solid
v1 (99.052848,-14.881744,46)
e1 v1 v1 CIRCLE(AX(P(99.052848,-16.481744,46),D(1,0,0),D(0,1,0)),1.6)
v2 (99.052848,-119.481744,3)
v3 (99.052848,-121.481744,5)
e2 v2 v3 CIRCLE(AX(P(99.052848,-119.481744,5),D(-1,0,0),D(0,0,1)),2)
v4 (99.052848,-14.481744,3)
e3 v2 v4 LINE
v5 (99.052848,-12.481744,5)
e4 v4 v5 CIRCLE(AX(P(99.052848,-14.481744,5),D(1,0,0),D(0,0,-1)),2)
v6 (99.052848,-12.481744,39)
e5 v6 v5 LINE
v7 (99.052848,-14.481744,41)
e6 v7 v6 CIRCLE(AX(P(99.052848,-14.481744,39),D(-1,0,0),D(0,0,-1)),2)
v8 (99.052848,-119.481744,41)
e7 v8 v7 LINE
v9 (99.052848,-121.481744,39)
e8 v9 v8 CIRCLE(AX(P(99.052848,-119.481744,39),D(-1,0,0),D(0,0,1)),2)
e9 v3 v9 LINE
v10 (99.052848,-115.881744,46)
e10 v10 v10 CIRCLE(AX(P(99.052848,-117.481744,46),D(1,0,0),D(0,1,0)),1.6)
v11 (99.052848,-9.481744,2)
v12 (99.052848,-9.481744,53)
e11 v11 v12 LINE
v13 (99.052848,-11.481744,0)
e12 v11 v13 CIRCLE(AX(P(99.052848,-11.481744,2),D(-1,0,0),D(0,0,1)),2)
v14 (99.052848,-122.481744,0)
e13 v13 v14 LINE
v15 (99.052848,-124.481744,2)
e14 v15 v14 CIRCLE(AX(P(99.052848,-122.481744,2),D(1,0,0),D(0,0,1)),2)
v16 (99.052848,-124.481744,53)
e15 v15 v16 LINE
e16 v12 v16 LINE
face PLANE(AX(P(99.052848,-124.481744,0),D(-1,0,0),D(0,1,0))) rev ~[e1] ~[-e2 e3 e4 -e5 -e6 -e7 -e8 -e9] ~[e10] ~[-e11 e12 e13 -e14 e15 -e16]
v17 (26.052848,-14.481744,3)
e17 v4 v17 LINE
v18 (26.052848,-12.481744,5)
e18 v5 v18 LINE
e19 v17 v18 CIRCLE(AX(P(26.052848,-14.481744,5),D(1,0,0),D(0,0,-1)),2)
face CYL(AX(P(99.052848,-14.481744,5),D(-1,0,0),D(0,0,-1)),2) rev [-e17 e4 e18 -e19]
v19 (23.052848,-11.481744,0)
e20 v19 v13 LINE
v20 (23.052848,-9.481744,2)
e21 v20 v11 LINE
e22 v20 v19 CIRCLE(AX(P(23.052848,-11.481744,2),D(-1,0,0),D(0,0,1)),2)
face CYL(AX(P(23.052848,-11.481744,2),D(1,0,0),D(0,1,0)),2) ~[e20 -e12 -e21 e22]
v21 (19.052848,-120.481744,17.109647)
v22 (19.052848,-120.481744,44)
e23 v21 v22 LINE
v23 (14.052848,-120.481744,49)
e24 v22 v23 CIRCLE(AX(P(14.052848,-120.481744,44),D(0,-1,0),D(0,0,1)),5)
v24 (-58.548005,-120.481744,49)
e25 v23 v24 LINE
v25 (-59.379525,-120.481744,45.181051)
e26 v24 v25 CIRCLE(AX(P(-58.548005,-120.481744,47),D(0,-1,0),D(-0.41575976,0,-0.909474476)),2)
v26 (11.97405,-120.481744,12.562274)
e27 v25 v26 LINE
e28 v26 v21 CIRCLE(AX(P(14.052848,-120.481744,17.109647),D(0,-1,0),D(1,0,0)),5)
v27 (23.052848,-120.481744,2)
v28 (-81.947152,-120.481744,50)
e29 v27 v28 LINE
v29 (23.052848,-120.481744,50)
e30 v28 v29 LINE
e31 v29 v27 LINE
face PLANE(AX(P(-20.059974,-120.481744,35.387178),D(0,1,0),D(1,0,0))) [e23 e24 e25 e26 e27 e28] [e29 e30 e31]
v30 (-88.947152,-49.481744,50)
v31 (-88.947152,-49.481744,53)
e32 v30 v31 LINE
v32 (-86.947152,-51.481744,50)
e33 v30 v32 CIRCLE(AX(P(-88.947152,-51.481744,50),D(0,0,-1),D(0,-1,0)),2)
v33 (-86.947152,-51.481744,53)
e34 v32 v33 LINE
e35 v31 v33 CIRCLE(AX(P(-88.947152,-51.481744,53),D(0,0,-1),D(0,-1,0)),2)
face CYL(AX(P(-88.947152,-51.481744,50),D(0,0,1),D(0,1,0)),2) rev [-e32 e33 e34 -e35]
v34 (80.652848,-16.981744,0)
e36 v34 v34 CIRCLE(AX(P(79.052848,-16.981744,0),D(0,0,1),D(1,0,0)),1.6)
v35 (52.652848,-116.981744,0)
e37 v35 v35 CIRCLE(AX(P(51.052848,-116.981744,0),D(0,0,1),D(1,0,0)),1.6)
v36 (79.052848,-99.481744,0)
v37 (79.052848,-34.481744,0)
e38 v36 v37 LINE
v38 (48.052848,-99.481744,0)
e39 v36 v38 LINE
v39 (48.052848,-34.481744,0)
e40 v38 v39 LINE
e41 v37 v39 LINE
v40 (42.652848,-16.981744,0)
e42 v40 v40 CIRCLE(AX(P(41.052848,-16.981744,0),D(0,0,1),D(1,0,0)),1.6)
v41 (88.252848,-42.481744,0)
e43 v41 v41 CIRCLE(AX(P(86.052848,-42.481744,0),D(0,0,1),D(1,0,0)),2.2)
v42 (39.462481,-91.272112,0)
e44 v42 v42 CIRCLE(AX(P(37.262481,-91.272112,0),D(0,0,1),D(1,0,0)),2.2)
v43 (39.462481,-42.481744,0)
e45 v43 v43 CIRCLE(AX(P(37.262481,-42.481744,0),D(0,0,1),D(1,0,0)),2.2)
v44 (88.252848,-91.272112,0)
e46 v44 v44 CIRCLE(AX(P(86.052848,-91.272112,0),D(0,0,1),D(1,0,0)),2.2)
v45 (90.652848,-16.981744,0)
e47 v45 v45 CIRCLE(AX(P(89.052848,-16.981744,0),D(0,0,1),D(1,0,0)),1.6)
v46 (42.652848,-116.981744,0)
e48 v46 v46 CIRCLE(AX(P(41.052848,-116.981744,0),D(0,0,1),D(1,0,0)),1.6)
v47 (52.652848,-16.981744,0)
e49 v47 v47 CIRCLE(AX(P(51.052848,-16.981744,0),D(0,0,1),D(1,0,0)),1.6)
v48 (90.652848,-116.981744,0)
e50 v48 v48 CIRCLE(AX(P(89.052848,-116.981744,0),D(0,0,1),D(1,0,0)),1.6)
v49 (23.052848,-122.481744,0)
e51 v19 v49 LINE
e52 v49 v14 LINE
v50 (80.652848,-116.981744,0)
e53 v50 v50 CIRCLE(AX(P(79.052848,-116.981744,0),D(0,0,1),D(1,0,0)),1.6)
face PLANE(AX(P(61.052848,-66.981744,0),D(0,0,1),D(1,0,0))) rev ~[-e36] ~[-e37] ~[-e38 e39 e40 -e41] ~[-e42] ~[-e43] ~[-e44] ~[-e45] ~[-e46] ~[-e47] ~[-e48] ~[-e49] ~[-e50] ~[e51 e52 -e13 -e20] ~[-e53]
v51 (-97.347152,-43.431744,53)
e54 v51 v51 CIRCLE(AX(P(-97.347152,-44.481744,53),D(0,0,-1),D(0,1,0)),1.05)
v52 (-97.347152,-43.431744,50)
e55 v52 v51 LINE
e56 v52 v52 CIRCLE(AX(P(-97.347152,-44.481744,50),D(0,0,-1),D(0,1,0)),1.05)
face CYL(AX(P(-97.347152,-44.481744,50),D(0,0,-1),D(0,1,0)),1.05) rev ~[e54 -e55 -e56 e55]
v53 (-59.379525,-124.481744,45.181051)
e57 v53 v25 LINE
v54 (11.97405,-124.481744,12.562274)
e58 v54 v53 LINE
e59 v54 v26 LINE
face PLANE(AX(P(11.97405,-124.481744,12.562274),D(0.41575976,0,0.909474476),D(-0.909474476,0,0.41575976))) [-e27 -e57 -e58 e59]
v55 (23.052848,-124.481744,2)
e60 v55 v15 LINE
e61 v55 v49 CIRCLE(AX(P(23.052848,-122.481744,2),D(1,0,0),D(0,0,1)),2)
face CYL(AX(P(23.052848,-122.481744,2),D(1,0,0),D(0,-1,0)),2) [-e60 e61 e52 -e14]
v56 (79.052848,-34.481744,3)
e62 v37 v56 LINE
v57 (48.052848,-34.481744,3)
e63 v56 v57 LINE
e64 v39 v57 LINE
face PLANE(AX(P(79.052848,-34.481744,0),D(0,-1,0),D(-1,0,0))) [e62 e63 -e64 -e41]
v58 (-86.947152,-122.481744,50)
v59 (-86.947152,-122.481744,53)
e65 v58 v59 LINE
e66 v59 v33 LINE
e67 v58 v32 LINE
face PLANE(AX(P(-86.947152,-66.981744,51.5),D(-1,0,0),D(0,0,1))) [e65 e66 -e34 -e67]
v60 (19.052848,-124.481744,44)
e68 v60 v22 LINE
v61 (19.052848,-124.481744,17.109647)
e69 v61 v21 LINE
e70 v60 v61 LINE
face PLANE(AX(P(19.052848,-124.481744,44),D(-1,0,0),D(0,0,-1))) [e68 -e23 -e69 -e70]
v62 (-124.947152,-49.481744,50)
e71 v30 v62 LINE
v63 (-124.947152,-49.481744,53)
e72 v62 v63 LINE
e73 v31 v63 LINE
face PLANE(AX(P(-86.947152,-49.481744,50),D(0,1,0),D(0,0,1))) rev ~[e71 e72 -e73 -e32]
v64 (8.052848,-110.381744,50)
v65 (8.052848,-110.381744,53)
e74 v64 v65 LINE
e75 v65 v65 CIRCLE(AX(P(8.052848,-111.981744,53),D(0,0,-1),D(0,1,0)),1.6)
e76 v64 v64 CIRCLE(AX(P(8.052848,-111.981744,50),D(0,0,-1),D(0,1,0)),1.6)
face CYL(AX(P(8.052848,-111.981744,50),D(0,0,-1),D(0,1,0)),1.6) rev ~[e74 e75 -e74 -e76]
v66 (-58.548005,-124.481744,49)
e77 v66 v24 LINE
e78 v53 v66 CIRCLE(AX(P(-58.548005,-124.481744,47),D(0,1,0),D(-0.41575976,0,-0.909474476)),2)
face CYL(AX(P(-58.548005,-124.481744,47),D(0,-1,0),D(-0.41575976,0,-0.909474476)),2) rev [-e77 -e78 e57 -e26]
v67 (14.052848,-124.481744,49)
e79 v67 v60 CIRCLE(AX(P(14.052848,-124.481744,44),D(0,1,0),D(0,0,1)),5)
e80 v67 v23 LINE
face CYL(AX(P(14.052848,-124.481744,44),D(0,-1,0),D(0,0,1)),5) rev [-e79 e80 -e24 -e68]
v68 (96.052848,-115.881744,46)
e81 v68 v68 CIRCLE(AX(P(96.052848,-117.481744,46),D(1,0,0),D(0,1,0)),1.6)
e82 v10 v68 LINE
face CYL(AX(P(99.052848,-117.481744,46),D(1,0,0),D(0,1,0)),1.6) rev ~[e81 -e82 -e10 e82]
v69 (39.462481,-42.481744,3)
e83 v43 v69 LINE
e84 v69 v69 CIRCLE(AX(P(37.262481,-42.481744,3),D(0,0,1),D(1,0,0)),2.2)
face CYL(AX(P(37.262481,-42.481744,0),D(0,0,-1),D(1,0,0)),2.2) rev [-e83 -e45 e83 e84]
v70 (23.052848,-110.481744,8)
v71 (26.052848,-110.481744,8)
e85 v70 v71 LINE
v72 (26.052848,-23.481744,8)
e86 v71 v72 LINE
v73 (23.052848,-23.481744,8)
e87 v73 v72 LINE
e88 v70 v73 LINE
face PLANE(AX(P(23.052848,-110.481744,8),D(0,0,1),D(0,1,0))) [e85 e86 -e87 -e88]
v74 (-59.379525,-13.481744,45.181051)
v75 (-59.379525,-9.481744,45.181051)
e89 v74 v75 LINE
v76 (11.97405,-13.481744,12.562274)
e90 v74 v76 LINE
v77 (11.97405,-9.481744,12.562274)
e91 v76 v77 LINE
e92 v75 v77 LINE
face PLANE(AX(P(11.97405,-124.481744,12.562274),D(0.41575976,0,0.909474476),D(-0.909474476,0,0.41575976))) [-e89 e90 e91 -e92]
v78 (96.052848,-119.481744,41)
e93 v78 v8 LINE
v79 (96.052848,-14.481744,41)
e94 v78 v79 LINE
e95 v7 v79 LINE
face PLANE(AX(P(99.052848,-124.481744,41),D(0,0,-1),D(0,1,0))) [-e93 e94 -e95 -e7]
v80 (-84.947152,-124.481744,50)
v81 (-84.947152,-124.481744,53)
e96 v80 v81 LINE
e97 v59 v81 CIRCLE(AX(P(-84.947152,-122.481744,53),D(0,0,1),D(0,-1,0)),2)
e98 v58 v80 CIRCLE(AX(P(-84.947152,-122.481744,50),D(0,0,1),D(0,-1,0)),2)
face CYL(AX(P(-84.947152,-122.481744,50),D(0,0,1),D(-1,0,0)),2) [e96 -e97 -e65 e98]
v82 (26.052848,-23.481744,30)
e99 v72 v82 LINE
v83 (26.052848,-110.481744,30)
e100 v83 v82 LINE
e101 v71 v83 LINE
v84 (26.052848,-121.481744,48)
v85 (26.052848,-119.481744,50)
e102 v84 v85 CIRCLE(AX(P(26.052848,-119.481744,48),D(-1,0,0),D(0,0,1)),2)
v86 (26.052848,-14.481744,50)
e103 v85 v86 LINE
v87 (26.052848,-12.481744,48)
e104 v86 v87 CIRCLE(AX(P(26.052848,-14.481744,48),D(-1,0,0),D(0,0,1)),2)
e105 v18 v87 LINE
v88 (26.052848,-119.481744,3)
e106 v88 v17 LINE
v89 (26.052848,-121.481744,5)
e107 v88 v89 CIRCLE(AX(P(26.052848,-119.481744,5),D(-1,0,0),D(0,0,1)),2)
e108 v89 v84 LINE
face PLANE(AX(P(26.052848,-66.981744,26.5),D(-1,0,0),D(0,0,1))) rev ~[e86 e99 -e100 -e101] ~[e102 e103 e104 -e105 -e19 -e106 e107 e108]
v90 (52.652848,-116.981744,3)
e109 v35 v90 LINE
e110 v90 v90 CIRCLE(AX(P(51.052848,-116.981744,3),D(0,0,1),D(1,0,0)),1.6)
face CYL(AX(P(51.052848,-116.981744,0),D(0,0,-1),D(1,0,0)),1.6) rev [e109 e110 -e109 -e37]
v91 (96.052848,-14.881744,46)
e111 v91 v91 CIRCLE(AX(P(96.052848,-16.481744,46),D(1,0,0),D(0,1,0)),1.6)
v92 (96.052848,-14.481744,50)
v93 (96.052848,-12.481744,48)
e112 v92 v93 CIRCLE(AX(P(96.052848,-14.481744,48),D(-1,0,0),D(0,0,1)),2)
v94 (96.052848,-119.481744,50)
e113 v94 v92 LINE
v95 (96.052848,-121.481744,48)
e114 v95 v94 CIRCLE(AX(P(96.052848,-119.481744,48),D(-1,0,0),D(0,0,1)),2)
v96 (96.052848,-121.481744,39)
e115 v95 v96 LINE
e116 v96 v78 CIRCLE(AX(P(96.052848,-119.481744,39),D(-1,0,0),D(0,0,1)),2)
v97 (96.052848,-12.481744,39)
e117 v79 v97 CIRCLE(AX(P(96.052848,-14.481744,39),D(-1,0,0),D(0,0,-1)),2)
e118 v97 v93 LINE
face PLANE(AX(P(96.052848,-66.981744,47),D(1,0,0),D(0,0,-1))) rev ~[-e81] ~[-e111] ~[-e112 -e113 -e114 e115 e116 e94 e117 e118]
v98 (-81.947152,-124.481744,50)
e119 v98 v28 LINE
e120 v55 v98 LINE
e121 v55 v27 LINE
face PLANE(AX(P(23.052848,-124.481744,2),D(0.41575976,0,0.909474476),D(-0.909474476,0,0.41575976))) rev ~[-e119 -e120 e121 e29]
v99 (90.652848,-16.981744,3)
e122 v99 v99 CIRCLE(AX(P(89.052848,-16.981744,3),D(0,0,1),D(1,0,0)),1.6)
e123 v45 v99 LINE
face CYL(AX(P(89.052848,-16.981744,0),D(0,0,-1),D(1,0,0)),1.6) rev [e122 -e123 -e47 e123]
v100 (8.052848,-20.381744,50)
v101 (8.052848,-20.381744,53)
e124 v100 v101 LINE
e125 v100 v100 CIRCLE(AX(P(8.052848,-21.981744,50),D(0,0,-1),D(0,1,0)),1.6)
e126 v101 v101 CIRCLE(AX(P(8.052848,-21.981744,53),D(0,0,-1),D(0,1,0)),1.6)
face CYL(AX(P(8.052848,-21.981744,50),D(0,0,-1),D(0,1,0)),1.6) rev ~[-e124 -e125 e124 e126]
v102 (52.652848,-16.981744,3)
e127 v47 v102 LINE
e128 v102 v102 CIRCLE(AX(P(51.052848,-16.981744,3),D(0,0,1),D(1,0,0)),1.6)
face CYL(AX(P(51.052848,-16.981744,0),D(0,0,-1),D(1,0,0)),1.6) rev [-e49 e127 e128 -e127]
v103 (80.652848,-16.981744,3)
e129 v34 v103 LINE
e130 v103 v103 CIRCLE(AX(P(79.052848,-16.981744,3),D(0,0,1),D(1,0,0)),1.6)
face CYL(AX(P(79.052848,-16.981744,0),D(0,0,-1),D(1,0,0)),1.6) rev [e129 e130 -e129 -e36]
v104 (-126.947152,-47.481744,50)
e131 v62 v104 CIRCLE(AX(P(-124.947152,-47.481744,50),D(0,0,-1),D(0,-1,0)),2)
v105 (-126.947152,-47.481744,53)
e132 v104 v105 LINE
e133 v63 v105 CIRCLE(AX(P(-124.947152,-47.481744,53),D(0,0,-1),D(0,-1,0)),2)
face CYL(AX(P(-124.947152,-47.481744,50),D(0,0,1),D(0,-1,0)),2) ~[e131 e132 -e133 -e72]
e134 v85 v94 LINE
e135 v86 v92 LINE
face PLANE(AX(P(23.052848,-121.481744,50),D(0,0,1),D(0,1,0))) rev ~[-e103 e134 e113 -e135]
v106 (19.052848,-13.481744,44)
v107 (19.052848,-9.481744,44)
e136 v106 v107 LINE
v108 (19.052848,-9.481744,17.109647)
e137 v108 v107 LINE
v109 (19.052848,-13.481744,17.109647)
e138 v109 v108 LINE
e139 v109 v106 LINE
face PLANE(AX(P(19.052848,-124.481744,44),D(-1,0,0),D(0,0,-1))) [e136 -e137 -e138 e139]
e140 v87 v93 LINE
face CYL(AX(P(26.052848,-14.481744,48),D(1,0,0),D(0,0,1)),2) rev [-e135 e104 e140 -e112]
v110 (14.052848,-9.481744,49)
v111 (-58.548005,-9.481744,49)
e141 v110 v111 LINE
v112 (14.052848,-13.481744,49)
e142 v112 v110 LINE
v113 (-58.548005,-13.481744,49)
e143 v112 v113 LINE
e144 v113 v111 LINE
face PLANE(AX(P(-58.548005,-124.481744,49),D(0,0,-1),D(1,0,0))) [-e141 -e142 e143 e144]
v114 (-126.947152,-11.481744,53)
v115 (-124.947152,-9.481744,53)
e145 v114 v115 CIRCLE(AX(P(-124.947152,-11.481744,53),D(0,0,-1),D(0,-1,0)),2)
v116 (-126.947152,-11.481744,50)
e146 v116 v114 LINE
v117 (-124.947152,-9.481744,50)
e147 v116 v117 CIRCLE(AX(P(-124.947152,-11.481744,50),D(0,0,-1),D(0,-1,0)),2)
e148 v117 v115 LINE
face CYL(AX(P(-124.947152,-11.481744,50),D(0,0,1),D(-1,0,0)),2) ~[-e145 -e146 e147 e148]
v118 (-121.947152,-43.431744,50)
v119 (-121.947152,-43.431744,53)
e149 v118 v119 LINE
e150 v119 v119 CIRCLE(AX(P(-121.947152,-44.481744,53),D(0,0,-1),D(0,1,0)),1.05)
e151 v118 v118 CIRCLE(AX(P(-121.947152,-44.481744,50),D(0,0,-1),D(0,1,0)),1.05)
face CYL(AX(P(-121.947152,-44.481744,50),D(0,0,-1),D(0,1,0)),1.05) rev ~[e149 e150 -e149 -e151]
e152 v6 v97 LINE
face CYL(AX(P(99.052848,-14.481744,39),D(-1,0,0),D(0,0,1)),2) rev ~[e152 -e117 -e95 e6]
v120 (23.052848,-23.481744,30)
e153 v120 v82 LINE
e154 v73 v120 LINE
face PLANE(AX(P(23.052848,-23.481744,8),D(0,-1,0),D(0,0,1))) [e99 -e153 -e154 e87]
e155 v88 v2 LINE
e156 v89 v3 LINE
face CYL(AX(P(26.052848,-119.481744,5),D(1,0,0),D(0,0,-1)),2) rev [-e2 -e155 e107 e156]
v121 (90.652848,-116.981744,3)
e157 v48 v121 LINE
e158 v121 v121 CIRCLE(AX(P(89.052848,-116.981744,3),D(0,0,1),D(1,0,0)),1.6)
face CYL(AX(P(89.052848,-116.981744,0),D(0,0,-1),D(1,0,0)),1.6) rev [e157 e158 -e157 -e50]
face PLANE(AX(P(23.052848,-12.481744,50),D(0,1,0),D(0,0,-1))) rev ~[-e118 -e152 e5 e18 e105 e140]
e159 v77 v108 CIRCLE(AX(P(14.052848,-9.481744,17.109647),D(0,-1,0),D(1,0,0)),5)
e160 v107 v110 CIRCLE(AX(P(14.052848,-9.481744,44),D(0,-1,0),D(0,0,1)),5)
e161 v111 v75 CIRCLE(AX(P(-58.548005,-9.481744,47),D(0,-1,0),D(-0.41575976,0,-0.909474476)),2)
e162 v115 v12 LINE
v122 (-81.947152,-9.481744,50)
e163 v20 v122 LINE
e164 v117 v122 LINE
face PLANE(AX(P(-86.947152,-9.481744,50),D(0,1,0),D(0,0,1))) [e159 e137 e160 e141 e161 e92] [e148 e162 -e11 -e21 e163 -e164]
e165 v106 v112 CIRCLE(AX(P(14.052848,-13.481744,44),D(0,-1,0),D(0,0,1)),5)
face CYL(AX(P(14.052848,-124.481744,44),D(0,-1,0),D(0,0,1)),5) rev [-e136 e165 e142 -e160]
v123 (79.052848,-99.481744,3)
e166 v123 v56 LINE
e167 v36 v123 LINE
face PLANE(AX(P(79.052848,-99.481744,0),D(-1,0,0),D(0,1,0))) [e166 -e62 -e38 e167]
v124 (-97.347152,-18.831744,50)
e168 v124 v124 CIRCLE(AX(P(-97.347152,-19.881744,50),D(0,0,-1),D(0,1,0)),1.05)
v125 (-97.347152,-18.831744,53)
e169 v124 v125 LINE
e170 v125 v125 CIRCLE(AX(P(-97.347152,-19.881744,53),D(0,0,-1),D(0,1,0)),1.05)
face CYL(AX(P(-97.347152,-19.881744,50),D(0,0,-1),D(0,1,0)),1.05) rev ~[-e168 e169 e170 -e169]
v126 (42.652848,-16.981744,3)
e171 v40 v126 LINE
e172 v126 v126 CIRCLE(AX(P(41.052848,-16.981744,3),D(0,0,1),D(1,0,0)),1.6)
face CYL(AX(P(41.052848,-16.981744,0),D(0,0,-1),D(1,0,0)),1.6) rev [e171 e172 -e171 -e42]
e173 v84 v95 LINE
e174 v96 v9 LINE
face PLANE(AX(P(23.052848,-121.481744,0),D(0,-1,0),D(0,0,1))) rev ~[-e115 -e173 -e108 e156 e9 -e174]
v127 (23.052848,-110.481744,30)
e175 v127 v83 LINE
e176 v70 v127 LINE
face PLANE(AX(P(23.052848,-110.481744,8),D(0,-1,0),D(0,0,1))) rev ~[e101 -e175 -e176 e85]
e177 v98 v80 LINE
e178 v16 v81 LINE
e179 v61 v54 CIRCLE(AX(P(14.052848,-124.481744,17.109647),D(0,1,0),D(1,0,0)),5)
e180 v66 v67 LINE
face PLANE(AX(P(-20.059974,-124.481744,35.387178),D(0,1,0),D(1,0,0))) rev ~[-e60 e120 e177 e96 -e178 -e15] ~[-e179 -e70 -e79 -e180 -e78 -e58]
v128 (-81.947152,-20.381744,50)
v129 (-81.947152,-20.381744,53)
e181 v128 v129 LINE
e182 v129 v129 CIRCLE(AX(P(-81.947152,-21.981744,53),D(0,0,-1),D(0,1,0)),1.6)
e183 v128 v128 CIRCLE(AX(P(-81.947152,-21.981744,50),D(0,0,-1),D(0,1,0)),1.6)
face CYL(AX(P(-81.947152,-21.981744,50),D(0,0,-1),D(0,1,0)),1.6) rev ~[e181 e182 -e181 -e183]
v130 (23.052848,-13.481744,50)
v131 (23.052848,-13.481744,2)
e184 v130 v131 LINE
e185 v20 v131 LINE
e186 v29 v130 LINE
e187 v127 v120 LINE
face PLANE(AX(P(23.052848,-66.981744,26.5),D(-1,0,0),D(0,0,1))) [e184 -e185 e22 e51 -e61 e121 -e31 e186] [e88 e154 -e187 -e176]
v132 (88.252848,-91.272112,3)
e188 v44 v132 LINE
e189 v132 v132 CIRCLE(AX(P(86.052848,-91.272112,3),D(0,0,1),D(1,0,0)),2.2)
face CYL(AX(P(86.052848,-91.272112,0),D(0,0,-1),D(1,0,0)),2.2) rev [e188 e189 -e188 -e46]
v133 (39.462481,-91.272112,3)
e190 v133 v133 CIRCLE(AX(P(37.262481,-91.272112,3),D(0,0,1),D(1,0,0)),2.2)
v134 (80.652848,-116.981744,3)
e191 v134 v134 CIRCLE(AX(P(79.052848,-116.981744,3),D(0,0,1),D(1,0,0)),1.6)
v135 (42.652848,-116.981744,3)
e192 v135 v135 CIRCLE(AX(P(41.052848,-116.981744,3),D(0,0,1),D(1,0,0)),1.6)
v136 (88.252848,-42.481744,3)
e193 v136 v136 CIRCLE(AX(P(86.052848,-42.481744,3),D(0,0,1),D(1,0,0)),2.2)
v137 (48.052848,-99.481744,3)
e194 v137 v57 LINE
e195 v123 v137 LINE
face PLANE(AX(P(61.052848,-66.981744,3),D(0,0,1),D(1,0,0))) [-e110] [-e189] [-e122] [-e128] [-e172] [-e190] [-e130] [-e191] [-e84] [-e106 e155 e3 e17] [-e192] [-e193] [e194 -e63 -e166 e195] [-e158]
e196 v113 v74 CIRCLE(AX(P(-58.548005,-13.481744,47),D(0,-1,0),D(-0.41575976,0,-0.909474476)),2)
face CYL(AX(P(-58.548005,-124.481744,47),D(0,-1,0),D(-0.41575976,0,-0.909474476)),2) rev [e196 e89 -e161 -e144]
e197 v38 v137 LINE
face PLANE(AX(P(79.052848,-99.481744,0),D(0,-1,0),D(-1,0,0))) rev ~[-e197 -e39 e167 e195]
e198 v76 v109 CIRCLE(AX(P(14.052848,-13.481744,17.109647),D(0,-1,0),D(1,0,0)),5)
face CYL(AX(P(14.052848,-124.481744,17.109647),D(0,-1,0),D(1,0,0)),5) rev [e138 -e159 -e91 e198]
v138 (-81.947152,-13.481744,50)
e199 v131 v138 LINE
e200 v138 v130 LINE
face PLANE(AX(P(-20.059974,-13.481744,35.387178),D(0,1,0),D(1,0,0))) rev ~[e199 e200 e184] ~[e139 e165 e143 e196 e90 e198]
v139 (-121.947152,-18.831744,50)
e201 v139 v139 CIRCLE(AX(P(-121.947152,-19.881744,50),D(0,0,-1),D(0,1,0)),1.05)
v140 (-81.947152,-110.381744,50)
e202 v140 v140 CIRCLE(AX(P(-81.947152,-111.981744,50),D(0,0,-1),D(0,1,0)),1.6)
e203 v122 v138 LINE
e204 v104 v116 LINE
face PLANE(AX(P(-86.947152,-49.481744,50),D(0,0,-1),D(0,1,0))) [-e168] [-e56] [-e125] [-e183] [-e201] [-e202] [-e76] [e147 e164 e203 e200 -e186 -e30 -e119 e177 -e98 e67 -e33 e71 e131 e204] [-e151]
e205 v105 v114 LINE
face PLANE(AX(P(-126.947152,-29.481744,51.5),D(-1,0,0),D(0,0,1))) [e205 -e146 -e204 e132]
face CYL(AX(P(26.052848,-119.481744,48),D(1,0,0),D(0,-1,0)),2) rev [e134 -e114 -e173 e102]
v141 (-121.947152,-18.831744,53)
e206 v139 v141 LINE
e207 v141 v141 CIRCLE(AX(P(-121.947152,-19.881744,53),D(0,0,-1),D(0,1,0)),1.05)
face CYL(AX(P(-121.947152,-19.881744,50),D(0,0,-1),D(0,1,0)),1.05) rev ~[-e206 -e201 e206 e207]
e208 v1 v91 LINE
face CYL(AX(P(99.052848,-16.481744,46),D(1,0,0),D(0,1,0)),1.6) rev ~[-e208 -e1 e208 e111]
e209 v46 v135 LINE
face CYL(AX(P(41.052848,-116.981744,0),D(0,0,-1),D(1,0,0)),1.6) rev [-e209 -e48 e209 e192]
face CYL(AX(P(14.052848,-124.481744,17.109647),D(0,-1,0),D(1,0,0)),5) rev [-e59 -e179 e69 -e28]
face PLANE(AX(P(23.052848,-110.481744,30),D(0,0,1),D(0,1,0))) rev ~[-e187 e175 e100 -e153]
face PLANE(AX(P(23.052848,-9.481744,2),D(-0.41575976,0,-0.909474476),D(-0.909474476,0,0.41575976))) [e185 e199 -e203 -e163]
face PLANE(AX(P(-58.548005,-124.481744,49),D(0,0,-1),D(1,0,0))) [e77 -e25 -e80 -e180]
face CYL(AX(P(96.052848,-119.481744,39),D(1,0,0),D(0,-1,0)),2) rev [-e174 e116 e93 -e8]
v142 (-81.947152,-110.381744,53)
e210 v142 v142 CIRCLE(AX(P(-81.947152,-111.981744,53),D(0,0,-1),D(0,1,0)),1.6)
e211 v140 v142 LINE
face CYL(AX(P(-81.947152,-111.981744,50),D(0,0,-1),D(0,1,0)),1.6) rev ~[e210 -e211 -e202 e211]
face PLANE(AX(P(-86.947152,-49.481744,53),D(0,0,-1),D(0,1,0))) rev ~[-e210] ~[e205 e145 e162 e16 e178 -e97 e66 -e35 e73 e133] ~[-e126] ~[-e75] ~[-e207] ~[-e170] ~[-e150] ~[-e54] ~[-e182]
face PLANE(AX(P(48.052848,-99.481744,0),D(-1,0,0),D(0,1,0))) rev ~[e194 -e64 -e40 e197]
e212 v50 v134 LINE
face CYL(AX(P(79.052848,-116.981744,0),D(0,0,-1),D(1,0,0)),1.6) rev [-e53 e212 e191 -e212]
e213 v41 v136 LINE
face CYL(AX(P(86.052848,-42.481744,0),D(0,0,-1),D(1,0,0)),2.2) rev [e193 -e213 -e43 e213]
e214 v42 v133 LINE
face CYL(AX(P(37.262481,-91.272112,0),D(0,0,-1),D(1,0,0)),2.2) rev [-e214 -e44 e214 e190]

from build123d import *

# Parameters (mm, degrees)
SKETCH_2_W          = 76
SKETCH_2_H          = 115
SKETCH_2_R          = 2.2
SKETCH_2_R_2        = 1.6
EXTRUDE_1_DEPTH     = 3
EXTRUDE_2_DEPTH     = 76
SKETCH_4_W          = 47
SKETCH_4_H          = 108.999999999
EXTRUDE_3_DEPTH     = 3
SKETCH_5_W          = 12
SKETCH_5_H          = 115
SKETCH_5_R          = 1.6
EXTRUDE_4_DEPTH     = 3
FILLET_1_R          = 2
SKETCH_6_W          = 3
SKETCH_6_H          = 115
EXTRUDE_5_DEPTH     = 110
SKETCH_7_R          = 1.6
CUT_EXTRUDE_1_DEPTH = 110
SKETCH_8_W          = 31
SKETCH_8_H          = 65
CUT_EXTRUDE_2_DEPTH = 3
EXTRUDE_6_DEPTH     = 4
EXTRUDE_7_DEPTH     = 4
CUT_EXTRUDE_3_DEPTH = 124
SKETCH_16_W         = 3
SKETCH_16_H         = 40
EXTRUDE_10_DEPTH    = 40
SKETCH_17_R         = 1.05
CUT_EXTRUDE_5_DEPTH = 40
FILLET_5_R          = 2
SKETCH_18_W         = 22
SKETCH_18_H         = 87
CUT_EXTRUDE_6_DEPTH = 4


with BuildPart() as part:
    # 草图2 → 凸台-拉伸1 (new body)
    with BuildSketch(Plane.XY):
        with Locations((61.052848474, -66.98174403)):
            Rectangle(SKETCH_2_W, SKETCH_2_H)
        with Locations((86.052848474, -91.272111932)):
            Circle(SKETCH_2_R, mode=Mode.SUBTRACT)
        with Locations((86.052848474, -42.48174403)):
            Circle(SKETCH_2_R, mode=Mode.SUBTRACT)
        with Locations((37.262480572, -42.48174403)):
            Circle(SKETCH_2_R, mode=Mode.SUBTRACT)
        with Locations((37.262480572, -91.272111932)):
            Circle(SKETCH_2_R, mode=Mode.SUBTRACT)
        with Locations((89.052848474, -16.98174403)):
            Circle(SKETCH_2_R_2, mode=Mode.SUBTRACT)
        with Locations((79.052848474, -16.98174403)):
            Circle(SKETCH_2_R_2, mode=Mode.SUBTRACT)
        with Locations((41.052848474, -16.98174403)):
            Circle(SKETCH_2_R_2, mode=Mode.SUBTRACT)
        with Locations((51.052848474, -16.98174403)):
            Circle(SKETCH_2_R_2, mode=Mode.SUBTRACT)
        with Locations((41.052848474, -116.98174403)):
            Circle(SKETCH_2_R_2, mode=Mode.SUBTRACT)
        with Locations((51.052848474, -116.98174403)):
            Circle(SKETCH_2_R_2, mode=Mode.SUBTRACT)
        with Locations((79.052848474, -116.98174403)):
            Circle(SKETCH_2_R_2, mode=Mode.SUBTRACT)
        with Locations((89.052848474, -116.98174403)):
            Circle(SKETCH_2_R_2, mode=Mode.SUBTRACT)
    extrude(amount=EXTRUDE_1_DEPTH)

    # 草图3 → 凸台-拉伸2 (add)
    with BuildSketch(Plane.ZY.offset(-23.052848474)):
        Polygon((0, -9.48174403), (53, -9.48174403), (53, -124.48174403), (0, -124.48174403), (0, -121.48174403), (50, -121.48174403), (50, -12.481744031), (0, -12.481744031), align=None)
    extrude(amount=-EXTRUDE_2_DEPTH)

    # 草图4 → 凸台-拉伸3 (add)
    with BuildSketch(Plane.ZY.offset(-23.052848474)):
        with Locations((26.5, -66.98174403)):
            Rectangle(SKETCH_4_W, SKETCH_4_H)
    extrude(amount=-EXTRUDE_3_DEPTH)

    # 草图5 → 凸台-拉伸4 (add)
    with BuildSketch(Plane(origin=(99.052848474, 0, 0), x_dir=(0, 0, -1), z_dir=(1, 0, 0))):
        with Locations((-47, -66.98174403)):
            Rectangle(SKETCH_5_W, SKETCH_5_H)
        with Locations(Location((-46, -117.48174403, 0), (0, 0, 90))):
            Circle(SKETCH_5_R, mode=Mode.SUBTRACT)
        with Locations(Location((-46, -16.48174403, 0), (0, 0, 90))):
            Circle(SKETCH_5_R, mode=Mode.SUBTRACT)
    extrude(amount=-EXTRUDE_4_DEPTH)

    # 圆角1
    fillet_1_edges = [part.edges().sort_by_distance(p)[0] for p in [
        (62.552848474, -12.481744031, 3),
        (61.052848474, -12.481744031, 50),
        (61.052848474, -121.48174403, 50),
        (97.552848474, -121.48174403, 41),
        (97.552848474, -12.481744031, 41),
        (61.052848474, -9.48174403, 0),
        (61.052848474, -124.48174403, 0),
        (62.552848474, -121.48174403, 3),
    ]]
    fillet(fillet_1_edges, radius=FILLET_1_R)

    # 草图6 → 凸台-拉伸5 (add)
    with BuildSketch(Plane.ZY.offset(-23.052848474)):
        with Locations((51.5, -66.98174403)):
            Rectangle(SKETCH_6_W, SKETCH_6_H)
    extrude(amount=EXTRUDE_5_DEPTH)

    # 草图7 → 切除-拉伸1 (cut)
    with BuildSketch(Plane(origin=(0, 0, 50), x_dir=(-1, 0, 0), z_dir=(0, 0, -1))):
        with Locations(Location((81.947151526, -21.98174403, 0), (0, 0, 90))):
            Circle(SKETCH_7_R)
        with Locations(Location((81.947151526, -111.98174403, 0), (0, 0, 90))):
            Circle(SKETCH_7_R)
        with Locations(Location((-8.052848474, -21.98174403, 0), (0, 0, 90))):
            Circle(SKETCH_7_R)
        with Locations(Location((-8.052848474, -111.98174403, 0), (0, 0, 90))):
            Circle(SKETCH_7_R)
    extrude(amount=-CUT_EXTRUDE_1_DEPTH, mode=Mode.SUBTRACT)

    # 草图8 → 切除-拉伸2 (cut)
    with BuildSketch(Plane(origin=(0, 0, 0), x_dir=(-1, 0, 0), z_dir=(0, 0, -1))):
        with Locations((-63.552848474, -66.98174403)):
            Rectangle(SKETCH_8_W, SKETCH_8_H)
    extrude(amount=-CUT_EXTRUDE_2_DEPTH, mode=Mode.SUBTRACT)

    # 草图9 → 凸台-拉伸6 (add)
    with BuildSketch(Plane(origin=(0, -124.48174403, 0), x_dir=(-1, 0, 0), z_dir=(0, -1, 0))):
        Polygon((-23.052848474, -2), (81.947151526, -50), (-23.052848474, -50), align=None)
    extrude(amount=-EXTRUDE_6_DEPTH)

    # 草图10 → 凸台-拉伸7 (add)
    with BuildSketch(Plane(origin=(0, -9.48174403, 0), x_dir=(1, 0, 0), z_dir=(0, 1, 0))):
        Polygon((23.052848474, -2), (-81.947151526, -50), (23.052848474, -50), align=None)
    extrude(amount=-EXTRUDE_7_DEPTH)

    # 草图11 → 切除-拉伸3 (cut)
    with BuildSketch(Plane(origin=(0, -124.48174403, 0), x_dir=(-1, 0, 0), z_dir=(0, -1, 0))):
        with BuildLine():
            Line((58.548005297, -49), (-14.052848474, -49))
            ThreePointArc((-14.052848474, -49), (-17.58838238, -47.535533906), (-19.052848474, -44))
            Line((-19.052848474, -44), (-19.052848474, -17.109646517))
            ThreePointArc((-19.052848474, -17.109646517), (-16.755255364, -12.902866632), (-11.974049673, -12.562274139))
            Line((-11.974049673, -12.562274139), (59.379524817, -45.181051049))
            ThreePointArc((59.379524817, -45.181051049), (60.502218425, -47.425500939), (58.548005297, -49))
        make_face()
    extrude(amount=-CUT_EXTRUDE_3_DEPTH, mode=Mode.SUBTRACT)

    # 草图16 → 凸台-拉伸10 (add)
    with BuildSketch(Plane.ZY.offset(86.947151526)):
        with Locations((51.5, -29.48174403)):
            Rectangle(SKETCH_16_W, SKETCH_16_H)
    extrude(amount=EXTRUDE_10_DEPTH)

    # 草图17 → 切除-拉伸5 (cut)
    with BuildSketch(Plane(origin=(0, 0, 50), x_dir=(-1, 0, 0), z_dir=(0, 0, -1))):
        with Locations(Location((121.947151526, -44.48174403, 0), (0, 0, 90))):
            Circle(SKETCH_17_R)
        with Locations(Location((121.947151526, -19.88174403, 0), (0, 0, 90))):
            Circle(SKETCH_17_R)
        with Locations(Location((97.347151526, -19.88174403, 0), (0, 0, 90))):
            Circle(SKETCH_17_R)
        with Locations(Location((97.347151526, -44.48174403, 0), (0, 0, 90))):
            Circle(SKETCH_17_R)
    extrude(amount=-CUT_EXTRUDE_5_DEPTH, mode=Mode.SUBTRACT)

    # 圆角5
    fillet_5_edges = [part.edges().sort_by_distance(p)[0] for p in [
        (-86.947151526, -124.48174403, 51.5),
        (-86.947151526, -49.48174403, 51.5),
        (-126.947151526, -49.48174403, 51.5),
        (-126.947151526, -9.48174403, 51.5),
    ]]
    fillet(fillet_5_edges, radius=FILLET_5_R)

    # 草图18 → 切除-拉伸6 (cut)
    with BuildSketch(Plane.ZY.offset(-23.052848474)):
        with Locations((19, -66.98174403)):
            Rectangle(SKETCH_18_W, SKETCH_18_H)
    extrude(amount=-CUT_EXTRUDE_6_DEPTH, mode=Mode.SUBTRACT)


solid = part.part
